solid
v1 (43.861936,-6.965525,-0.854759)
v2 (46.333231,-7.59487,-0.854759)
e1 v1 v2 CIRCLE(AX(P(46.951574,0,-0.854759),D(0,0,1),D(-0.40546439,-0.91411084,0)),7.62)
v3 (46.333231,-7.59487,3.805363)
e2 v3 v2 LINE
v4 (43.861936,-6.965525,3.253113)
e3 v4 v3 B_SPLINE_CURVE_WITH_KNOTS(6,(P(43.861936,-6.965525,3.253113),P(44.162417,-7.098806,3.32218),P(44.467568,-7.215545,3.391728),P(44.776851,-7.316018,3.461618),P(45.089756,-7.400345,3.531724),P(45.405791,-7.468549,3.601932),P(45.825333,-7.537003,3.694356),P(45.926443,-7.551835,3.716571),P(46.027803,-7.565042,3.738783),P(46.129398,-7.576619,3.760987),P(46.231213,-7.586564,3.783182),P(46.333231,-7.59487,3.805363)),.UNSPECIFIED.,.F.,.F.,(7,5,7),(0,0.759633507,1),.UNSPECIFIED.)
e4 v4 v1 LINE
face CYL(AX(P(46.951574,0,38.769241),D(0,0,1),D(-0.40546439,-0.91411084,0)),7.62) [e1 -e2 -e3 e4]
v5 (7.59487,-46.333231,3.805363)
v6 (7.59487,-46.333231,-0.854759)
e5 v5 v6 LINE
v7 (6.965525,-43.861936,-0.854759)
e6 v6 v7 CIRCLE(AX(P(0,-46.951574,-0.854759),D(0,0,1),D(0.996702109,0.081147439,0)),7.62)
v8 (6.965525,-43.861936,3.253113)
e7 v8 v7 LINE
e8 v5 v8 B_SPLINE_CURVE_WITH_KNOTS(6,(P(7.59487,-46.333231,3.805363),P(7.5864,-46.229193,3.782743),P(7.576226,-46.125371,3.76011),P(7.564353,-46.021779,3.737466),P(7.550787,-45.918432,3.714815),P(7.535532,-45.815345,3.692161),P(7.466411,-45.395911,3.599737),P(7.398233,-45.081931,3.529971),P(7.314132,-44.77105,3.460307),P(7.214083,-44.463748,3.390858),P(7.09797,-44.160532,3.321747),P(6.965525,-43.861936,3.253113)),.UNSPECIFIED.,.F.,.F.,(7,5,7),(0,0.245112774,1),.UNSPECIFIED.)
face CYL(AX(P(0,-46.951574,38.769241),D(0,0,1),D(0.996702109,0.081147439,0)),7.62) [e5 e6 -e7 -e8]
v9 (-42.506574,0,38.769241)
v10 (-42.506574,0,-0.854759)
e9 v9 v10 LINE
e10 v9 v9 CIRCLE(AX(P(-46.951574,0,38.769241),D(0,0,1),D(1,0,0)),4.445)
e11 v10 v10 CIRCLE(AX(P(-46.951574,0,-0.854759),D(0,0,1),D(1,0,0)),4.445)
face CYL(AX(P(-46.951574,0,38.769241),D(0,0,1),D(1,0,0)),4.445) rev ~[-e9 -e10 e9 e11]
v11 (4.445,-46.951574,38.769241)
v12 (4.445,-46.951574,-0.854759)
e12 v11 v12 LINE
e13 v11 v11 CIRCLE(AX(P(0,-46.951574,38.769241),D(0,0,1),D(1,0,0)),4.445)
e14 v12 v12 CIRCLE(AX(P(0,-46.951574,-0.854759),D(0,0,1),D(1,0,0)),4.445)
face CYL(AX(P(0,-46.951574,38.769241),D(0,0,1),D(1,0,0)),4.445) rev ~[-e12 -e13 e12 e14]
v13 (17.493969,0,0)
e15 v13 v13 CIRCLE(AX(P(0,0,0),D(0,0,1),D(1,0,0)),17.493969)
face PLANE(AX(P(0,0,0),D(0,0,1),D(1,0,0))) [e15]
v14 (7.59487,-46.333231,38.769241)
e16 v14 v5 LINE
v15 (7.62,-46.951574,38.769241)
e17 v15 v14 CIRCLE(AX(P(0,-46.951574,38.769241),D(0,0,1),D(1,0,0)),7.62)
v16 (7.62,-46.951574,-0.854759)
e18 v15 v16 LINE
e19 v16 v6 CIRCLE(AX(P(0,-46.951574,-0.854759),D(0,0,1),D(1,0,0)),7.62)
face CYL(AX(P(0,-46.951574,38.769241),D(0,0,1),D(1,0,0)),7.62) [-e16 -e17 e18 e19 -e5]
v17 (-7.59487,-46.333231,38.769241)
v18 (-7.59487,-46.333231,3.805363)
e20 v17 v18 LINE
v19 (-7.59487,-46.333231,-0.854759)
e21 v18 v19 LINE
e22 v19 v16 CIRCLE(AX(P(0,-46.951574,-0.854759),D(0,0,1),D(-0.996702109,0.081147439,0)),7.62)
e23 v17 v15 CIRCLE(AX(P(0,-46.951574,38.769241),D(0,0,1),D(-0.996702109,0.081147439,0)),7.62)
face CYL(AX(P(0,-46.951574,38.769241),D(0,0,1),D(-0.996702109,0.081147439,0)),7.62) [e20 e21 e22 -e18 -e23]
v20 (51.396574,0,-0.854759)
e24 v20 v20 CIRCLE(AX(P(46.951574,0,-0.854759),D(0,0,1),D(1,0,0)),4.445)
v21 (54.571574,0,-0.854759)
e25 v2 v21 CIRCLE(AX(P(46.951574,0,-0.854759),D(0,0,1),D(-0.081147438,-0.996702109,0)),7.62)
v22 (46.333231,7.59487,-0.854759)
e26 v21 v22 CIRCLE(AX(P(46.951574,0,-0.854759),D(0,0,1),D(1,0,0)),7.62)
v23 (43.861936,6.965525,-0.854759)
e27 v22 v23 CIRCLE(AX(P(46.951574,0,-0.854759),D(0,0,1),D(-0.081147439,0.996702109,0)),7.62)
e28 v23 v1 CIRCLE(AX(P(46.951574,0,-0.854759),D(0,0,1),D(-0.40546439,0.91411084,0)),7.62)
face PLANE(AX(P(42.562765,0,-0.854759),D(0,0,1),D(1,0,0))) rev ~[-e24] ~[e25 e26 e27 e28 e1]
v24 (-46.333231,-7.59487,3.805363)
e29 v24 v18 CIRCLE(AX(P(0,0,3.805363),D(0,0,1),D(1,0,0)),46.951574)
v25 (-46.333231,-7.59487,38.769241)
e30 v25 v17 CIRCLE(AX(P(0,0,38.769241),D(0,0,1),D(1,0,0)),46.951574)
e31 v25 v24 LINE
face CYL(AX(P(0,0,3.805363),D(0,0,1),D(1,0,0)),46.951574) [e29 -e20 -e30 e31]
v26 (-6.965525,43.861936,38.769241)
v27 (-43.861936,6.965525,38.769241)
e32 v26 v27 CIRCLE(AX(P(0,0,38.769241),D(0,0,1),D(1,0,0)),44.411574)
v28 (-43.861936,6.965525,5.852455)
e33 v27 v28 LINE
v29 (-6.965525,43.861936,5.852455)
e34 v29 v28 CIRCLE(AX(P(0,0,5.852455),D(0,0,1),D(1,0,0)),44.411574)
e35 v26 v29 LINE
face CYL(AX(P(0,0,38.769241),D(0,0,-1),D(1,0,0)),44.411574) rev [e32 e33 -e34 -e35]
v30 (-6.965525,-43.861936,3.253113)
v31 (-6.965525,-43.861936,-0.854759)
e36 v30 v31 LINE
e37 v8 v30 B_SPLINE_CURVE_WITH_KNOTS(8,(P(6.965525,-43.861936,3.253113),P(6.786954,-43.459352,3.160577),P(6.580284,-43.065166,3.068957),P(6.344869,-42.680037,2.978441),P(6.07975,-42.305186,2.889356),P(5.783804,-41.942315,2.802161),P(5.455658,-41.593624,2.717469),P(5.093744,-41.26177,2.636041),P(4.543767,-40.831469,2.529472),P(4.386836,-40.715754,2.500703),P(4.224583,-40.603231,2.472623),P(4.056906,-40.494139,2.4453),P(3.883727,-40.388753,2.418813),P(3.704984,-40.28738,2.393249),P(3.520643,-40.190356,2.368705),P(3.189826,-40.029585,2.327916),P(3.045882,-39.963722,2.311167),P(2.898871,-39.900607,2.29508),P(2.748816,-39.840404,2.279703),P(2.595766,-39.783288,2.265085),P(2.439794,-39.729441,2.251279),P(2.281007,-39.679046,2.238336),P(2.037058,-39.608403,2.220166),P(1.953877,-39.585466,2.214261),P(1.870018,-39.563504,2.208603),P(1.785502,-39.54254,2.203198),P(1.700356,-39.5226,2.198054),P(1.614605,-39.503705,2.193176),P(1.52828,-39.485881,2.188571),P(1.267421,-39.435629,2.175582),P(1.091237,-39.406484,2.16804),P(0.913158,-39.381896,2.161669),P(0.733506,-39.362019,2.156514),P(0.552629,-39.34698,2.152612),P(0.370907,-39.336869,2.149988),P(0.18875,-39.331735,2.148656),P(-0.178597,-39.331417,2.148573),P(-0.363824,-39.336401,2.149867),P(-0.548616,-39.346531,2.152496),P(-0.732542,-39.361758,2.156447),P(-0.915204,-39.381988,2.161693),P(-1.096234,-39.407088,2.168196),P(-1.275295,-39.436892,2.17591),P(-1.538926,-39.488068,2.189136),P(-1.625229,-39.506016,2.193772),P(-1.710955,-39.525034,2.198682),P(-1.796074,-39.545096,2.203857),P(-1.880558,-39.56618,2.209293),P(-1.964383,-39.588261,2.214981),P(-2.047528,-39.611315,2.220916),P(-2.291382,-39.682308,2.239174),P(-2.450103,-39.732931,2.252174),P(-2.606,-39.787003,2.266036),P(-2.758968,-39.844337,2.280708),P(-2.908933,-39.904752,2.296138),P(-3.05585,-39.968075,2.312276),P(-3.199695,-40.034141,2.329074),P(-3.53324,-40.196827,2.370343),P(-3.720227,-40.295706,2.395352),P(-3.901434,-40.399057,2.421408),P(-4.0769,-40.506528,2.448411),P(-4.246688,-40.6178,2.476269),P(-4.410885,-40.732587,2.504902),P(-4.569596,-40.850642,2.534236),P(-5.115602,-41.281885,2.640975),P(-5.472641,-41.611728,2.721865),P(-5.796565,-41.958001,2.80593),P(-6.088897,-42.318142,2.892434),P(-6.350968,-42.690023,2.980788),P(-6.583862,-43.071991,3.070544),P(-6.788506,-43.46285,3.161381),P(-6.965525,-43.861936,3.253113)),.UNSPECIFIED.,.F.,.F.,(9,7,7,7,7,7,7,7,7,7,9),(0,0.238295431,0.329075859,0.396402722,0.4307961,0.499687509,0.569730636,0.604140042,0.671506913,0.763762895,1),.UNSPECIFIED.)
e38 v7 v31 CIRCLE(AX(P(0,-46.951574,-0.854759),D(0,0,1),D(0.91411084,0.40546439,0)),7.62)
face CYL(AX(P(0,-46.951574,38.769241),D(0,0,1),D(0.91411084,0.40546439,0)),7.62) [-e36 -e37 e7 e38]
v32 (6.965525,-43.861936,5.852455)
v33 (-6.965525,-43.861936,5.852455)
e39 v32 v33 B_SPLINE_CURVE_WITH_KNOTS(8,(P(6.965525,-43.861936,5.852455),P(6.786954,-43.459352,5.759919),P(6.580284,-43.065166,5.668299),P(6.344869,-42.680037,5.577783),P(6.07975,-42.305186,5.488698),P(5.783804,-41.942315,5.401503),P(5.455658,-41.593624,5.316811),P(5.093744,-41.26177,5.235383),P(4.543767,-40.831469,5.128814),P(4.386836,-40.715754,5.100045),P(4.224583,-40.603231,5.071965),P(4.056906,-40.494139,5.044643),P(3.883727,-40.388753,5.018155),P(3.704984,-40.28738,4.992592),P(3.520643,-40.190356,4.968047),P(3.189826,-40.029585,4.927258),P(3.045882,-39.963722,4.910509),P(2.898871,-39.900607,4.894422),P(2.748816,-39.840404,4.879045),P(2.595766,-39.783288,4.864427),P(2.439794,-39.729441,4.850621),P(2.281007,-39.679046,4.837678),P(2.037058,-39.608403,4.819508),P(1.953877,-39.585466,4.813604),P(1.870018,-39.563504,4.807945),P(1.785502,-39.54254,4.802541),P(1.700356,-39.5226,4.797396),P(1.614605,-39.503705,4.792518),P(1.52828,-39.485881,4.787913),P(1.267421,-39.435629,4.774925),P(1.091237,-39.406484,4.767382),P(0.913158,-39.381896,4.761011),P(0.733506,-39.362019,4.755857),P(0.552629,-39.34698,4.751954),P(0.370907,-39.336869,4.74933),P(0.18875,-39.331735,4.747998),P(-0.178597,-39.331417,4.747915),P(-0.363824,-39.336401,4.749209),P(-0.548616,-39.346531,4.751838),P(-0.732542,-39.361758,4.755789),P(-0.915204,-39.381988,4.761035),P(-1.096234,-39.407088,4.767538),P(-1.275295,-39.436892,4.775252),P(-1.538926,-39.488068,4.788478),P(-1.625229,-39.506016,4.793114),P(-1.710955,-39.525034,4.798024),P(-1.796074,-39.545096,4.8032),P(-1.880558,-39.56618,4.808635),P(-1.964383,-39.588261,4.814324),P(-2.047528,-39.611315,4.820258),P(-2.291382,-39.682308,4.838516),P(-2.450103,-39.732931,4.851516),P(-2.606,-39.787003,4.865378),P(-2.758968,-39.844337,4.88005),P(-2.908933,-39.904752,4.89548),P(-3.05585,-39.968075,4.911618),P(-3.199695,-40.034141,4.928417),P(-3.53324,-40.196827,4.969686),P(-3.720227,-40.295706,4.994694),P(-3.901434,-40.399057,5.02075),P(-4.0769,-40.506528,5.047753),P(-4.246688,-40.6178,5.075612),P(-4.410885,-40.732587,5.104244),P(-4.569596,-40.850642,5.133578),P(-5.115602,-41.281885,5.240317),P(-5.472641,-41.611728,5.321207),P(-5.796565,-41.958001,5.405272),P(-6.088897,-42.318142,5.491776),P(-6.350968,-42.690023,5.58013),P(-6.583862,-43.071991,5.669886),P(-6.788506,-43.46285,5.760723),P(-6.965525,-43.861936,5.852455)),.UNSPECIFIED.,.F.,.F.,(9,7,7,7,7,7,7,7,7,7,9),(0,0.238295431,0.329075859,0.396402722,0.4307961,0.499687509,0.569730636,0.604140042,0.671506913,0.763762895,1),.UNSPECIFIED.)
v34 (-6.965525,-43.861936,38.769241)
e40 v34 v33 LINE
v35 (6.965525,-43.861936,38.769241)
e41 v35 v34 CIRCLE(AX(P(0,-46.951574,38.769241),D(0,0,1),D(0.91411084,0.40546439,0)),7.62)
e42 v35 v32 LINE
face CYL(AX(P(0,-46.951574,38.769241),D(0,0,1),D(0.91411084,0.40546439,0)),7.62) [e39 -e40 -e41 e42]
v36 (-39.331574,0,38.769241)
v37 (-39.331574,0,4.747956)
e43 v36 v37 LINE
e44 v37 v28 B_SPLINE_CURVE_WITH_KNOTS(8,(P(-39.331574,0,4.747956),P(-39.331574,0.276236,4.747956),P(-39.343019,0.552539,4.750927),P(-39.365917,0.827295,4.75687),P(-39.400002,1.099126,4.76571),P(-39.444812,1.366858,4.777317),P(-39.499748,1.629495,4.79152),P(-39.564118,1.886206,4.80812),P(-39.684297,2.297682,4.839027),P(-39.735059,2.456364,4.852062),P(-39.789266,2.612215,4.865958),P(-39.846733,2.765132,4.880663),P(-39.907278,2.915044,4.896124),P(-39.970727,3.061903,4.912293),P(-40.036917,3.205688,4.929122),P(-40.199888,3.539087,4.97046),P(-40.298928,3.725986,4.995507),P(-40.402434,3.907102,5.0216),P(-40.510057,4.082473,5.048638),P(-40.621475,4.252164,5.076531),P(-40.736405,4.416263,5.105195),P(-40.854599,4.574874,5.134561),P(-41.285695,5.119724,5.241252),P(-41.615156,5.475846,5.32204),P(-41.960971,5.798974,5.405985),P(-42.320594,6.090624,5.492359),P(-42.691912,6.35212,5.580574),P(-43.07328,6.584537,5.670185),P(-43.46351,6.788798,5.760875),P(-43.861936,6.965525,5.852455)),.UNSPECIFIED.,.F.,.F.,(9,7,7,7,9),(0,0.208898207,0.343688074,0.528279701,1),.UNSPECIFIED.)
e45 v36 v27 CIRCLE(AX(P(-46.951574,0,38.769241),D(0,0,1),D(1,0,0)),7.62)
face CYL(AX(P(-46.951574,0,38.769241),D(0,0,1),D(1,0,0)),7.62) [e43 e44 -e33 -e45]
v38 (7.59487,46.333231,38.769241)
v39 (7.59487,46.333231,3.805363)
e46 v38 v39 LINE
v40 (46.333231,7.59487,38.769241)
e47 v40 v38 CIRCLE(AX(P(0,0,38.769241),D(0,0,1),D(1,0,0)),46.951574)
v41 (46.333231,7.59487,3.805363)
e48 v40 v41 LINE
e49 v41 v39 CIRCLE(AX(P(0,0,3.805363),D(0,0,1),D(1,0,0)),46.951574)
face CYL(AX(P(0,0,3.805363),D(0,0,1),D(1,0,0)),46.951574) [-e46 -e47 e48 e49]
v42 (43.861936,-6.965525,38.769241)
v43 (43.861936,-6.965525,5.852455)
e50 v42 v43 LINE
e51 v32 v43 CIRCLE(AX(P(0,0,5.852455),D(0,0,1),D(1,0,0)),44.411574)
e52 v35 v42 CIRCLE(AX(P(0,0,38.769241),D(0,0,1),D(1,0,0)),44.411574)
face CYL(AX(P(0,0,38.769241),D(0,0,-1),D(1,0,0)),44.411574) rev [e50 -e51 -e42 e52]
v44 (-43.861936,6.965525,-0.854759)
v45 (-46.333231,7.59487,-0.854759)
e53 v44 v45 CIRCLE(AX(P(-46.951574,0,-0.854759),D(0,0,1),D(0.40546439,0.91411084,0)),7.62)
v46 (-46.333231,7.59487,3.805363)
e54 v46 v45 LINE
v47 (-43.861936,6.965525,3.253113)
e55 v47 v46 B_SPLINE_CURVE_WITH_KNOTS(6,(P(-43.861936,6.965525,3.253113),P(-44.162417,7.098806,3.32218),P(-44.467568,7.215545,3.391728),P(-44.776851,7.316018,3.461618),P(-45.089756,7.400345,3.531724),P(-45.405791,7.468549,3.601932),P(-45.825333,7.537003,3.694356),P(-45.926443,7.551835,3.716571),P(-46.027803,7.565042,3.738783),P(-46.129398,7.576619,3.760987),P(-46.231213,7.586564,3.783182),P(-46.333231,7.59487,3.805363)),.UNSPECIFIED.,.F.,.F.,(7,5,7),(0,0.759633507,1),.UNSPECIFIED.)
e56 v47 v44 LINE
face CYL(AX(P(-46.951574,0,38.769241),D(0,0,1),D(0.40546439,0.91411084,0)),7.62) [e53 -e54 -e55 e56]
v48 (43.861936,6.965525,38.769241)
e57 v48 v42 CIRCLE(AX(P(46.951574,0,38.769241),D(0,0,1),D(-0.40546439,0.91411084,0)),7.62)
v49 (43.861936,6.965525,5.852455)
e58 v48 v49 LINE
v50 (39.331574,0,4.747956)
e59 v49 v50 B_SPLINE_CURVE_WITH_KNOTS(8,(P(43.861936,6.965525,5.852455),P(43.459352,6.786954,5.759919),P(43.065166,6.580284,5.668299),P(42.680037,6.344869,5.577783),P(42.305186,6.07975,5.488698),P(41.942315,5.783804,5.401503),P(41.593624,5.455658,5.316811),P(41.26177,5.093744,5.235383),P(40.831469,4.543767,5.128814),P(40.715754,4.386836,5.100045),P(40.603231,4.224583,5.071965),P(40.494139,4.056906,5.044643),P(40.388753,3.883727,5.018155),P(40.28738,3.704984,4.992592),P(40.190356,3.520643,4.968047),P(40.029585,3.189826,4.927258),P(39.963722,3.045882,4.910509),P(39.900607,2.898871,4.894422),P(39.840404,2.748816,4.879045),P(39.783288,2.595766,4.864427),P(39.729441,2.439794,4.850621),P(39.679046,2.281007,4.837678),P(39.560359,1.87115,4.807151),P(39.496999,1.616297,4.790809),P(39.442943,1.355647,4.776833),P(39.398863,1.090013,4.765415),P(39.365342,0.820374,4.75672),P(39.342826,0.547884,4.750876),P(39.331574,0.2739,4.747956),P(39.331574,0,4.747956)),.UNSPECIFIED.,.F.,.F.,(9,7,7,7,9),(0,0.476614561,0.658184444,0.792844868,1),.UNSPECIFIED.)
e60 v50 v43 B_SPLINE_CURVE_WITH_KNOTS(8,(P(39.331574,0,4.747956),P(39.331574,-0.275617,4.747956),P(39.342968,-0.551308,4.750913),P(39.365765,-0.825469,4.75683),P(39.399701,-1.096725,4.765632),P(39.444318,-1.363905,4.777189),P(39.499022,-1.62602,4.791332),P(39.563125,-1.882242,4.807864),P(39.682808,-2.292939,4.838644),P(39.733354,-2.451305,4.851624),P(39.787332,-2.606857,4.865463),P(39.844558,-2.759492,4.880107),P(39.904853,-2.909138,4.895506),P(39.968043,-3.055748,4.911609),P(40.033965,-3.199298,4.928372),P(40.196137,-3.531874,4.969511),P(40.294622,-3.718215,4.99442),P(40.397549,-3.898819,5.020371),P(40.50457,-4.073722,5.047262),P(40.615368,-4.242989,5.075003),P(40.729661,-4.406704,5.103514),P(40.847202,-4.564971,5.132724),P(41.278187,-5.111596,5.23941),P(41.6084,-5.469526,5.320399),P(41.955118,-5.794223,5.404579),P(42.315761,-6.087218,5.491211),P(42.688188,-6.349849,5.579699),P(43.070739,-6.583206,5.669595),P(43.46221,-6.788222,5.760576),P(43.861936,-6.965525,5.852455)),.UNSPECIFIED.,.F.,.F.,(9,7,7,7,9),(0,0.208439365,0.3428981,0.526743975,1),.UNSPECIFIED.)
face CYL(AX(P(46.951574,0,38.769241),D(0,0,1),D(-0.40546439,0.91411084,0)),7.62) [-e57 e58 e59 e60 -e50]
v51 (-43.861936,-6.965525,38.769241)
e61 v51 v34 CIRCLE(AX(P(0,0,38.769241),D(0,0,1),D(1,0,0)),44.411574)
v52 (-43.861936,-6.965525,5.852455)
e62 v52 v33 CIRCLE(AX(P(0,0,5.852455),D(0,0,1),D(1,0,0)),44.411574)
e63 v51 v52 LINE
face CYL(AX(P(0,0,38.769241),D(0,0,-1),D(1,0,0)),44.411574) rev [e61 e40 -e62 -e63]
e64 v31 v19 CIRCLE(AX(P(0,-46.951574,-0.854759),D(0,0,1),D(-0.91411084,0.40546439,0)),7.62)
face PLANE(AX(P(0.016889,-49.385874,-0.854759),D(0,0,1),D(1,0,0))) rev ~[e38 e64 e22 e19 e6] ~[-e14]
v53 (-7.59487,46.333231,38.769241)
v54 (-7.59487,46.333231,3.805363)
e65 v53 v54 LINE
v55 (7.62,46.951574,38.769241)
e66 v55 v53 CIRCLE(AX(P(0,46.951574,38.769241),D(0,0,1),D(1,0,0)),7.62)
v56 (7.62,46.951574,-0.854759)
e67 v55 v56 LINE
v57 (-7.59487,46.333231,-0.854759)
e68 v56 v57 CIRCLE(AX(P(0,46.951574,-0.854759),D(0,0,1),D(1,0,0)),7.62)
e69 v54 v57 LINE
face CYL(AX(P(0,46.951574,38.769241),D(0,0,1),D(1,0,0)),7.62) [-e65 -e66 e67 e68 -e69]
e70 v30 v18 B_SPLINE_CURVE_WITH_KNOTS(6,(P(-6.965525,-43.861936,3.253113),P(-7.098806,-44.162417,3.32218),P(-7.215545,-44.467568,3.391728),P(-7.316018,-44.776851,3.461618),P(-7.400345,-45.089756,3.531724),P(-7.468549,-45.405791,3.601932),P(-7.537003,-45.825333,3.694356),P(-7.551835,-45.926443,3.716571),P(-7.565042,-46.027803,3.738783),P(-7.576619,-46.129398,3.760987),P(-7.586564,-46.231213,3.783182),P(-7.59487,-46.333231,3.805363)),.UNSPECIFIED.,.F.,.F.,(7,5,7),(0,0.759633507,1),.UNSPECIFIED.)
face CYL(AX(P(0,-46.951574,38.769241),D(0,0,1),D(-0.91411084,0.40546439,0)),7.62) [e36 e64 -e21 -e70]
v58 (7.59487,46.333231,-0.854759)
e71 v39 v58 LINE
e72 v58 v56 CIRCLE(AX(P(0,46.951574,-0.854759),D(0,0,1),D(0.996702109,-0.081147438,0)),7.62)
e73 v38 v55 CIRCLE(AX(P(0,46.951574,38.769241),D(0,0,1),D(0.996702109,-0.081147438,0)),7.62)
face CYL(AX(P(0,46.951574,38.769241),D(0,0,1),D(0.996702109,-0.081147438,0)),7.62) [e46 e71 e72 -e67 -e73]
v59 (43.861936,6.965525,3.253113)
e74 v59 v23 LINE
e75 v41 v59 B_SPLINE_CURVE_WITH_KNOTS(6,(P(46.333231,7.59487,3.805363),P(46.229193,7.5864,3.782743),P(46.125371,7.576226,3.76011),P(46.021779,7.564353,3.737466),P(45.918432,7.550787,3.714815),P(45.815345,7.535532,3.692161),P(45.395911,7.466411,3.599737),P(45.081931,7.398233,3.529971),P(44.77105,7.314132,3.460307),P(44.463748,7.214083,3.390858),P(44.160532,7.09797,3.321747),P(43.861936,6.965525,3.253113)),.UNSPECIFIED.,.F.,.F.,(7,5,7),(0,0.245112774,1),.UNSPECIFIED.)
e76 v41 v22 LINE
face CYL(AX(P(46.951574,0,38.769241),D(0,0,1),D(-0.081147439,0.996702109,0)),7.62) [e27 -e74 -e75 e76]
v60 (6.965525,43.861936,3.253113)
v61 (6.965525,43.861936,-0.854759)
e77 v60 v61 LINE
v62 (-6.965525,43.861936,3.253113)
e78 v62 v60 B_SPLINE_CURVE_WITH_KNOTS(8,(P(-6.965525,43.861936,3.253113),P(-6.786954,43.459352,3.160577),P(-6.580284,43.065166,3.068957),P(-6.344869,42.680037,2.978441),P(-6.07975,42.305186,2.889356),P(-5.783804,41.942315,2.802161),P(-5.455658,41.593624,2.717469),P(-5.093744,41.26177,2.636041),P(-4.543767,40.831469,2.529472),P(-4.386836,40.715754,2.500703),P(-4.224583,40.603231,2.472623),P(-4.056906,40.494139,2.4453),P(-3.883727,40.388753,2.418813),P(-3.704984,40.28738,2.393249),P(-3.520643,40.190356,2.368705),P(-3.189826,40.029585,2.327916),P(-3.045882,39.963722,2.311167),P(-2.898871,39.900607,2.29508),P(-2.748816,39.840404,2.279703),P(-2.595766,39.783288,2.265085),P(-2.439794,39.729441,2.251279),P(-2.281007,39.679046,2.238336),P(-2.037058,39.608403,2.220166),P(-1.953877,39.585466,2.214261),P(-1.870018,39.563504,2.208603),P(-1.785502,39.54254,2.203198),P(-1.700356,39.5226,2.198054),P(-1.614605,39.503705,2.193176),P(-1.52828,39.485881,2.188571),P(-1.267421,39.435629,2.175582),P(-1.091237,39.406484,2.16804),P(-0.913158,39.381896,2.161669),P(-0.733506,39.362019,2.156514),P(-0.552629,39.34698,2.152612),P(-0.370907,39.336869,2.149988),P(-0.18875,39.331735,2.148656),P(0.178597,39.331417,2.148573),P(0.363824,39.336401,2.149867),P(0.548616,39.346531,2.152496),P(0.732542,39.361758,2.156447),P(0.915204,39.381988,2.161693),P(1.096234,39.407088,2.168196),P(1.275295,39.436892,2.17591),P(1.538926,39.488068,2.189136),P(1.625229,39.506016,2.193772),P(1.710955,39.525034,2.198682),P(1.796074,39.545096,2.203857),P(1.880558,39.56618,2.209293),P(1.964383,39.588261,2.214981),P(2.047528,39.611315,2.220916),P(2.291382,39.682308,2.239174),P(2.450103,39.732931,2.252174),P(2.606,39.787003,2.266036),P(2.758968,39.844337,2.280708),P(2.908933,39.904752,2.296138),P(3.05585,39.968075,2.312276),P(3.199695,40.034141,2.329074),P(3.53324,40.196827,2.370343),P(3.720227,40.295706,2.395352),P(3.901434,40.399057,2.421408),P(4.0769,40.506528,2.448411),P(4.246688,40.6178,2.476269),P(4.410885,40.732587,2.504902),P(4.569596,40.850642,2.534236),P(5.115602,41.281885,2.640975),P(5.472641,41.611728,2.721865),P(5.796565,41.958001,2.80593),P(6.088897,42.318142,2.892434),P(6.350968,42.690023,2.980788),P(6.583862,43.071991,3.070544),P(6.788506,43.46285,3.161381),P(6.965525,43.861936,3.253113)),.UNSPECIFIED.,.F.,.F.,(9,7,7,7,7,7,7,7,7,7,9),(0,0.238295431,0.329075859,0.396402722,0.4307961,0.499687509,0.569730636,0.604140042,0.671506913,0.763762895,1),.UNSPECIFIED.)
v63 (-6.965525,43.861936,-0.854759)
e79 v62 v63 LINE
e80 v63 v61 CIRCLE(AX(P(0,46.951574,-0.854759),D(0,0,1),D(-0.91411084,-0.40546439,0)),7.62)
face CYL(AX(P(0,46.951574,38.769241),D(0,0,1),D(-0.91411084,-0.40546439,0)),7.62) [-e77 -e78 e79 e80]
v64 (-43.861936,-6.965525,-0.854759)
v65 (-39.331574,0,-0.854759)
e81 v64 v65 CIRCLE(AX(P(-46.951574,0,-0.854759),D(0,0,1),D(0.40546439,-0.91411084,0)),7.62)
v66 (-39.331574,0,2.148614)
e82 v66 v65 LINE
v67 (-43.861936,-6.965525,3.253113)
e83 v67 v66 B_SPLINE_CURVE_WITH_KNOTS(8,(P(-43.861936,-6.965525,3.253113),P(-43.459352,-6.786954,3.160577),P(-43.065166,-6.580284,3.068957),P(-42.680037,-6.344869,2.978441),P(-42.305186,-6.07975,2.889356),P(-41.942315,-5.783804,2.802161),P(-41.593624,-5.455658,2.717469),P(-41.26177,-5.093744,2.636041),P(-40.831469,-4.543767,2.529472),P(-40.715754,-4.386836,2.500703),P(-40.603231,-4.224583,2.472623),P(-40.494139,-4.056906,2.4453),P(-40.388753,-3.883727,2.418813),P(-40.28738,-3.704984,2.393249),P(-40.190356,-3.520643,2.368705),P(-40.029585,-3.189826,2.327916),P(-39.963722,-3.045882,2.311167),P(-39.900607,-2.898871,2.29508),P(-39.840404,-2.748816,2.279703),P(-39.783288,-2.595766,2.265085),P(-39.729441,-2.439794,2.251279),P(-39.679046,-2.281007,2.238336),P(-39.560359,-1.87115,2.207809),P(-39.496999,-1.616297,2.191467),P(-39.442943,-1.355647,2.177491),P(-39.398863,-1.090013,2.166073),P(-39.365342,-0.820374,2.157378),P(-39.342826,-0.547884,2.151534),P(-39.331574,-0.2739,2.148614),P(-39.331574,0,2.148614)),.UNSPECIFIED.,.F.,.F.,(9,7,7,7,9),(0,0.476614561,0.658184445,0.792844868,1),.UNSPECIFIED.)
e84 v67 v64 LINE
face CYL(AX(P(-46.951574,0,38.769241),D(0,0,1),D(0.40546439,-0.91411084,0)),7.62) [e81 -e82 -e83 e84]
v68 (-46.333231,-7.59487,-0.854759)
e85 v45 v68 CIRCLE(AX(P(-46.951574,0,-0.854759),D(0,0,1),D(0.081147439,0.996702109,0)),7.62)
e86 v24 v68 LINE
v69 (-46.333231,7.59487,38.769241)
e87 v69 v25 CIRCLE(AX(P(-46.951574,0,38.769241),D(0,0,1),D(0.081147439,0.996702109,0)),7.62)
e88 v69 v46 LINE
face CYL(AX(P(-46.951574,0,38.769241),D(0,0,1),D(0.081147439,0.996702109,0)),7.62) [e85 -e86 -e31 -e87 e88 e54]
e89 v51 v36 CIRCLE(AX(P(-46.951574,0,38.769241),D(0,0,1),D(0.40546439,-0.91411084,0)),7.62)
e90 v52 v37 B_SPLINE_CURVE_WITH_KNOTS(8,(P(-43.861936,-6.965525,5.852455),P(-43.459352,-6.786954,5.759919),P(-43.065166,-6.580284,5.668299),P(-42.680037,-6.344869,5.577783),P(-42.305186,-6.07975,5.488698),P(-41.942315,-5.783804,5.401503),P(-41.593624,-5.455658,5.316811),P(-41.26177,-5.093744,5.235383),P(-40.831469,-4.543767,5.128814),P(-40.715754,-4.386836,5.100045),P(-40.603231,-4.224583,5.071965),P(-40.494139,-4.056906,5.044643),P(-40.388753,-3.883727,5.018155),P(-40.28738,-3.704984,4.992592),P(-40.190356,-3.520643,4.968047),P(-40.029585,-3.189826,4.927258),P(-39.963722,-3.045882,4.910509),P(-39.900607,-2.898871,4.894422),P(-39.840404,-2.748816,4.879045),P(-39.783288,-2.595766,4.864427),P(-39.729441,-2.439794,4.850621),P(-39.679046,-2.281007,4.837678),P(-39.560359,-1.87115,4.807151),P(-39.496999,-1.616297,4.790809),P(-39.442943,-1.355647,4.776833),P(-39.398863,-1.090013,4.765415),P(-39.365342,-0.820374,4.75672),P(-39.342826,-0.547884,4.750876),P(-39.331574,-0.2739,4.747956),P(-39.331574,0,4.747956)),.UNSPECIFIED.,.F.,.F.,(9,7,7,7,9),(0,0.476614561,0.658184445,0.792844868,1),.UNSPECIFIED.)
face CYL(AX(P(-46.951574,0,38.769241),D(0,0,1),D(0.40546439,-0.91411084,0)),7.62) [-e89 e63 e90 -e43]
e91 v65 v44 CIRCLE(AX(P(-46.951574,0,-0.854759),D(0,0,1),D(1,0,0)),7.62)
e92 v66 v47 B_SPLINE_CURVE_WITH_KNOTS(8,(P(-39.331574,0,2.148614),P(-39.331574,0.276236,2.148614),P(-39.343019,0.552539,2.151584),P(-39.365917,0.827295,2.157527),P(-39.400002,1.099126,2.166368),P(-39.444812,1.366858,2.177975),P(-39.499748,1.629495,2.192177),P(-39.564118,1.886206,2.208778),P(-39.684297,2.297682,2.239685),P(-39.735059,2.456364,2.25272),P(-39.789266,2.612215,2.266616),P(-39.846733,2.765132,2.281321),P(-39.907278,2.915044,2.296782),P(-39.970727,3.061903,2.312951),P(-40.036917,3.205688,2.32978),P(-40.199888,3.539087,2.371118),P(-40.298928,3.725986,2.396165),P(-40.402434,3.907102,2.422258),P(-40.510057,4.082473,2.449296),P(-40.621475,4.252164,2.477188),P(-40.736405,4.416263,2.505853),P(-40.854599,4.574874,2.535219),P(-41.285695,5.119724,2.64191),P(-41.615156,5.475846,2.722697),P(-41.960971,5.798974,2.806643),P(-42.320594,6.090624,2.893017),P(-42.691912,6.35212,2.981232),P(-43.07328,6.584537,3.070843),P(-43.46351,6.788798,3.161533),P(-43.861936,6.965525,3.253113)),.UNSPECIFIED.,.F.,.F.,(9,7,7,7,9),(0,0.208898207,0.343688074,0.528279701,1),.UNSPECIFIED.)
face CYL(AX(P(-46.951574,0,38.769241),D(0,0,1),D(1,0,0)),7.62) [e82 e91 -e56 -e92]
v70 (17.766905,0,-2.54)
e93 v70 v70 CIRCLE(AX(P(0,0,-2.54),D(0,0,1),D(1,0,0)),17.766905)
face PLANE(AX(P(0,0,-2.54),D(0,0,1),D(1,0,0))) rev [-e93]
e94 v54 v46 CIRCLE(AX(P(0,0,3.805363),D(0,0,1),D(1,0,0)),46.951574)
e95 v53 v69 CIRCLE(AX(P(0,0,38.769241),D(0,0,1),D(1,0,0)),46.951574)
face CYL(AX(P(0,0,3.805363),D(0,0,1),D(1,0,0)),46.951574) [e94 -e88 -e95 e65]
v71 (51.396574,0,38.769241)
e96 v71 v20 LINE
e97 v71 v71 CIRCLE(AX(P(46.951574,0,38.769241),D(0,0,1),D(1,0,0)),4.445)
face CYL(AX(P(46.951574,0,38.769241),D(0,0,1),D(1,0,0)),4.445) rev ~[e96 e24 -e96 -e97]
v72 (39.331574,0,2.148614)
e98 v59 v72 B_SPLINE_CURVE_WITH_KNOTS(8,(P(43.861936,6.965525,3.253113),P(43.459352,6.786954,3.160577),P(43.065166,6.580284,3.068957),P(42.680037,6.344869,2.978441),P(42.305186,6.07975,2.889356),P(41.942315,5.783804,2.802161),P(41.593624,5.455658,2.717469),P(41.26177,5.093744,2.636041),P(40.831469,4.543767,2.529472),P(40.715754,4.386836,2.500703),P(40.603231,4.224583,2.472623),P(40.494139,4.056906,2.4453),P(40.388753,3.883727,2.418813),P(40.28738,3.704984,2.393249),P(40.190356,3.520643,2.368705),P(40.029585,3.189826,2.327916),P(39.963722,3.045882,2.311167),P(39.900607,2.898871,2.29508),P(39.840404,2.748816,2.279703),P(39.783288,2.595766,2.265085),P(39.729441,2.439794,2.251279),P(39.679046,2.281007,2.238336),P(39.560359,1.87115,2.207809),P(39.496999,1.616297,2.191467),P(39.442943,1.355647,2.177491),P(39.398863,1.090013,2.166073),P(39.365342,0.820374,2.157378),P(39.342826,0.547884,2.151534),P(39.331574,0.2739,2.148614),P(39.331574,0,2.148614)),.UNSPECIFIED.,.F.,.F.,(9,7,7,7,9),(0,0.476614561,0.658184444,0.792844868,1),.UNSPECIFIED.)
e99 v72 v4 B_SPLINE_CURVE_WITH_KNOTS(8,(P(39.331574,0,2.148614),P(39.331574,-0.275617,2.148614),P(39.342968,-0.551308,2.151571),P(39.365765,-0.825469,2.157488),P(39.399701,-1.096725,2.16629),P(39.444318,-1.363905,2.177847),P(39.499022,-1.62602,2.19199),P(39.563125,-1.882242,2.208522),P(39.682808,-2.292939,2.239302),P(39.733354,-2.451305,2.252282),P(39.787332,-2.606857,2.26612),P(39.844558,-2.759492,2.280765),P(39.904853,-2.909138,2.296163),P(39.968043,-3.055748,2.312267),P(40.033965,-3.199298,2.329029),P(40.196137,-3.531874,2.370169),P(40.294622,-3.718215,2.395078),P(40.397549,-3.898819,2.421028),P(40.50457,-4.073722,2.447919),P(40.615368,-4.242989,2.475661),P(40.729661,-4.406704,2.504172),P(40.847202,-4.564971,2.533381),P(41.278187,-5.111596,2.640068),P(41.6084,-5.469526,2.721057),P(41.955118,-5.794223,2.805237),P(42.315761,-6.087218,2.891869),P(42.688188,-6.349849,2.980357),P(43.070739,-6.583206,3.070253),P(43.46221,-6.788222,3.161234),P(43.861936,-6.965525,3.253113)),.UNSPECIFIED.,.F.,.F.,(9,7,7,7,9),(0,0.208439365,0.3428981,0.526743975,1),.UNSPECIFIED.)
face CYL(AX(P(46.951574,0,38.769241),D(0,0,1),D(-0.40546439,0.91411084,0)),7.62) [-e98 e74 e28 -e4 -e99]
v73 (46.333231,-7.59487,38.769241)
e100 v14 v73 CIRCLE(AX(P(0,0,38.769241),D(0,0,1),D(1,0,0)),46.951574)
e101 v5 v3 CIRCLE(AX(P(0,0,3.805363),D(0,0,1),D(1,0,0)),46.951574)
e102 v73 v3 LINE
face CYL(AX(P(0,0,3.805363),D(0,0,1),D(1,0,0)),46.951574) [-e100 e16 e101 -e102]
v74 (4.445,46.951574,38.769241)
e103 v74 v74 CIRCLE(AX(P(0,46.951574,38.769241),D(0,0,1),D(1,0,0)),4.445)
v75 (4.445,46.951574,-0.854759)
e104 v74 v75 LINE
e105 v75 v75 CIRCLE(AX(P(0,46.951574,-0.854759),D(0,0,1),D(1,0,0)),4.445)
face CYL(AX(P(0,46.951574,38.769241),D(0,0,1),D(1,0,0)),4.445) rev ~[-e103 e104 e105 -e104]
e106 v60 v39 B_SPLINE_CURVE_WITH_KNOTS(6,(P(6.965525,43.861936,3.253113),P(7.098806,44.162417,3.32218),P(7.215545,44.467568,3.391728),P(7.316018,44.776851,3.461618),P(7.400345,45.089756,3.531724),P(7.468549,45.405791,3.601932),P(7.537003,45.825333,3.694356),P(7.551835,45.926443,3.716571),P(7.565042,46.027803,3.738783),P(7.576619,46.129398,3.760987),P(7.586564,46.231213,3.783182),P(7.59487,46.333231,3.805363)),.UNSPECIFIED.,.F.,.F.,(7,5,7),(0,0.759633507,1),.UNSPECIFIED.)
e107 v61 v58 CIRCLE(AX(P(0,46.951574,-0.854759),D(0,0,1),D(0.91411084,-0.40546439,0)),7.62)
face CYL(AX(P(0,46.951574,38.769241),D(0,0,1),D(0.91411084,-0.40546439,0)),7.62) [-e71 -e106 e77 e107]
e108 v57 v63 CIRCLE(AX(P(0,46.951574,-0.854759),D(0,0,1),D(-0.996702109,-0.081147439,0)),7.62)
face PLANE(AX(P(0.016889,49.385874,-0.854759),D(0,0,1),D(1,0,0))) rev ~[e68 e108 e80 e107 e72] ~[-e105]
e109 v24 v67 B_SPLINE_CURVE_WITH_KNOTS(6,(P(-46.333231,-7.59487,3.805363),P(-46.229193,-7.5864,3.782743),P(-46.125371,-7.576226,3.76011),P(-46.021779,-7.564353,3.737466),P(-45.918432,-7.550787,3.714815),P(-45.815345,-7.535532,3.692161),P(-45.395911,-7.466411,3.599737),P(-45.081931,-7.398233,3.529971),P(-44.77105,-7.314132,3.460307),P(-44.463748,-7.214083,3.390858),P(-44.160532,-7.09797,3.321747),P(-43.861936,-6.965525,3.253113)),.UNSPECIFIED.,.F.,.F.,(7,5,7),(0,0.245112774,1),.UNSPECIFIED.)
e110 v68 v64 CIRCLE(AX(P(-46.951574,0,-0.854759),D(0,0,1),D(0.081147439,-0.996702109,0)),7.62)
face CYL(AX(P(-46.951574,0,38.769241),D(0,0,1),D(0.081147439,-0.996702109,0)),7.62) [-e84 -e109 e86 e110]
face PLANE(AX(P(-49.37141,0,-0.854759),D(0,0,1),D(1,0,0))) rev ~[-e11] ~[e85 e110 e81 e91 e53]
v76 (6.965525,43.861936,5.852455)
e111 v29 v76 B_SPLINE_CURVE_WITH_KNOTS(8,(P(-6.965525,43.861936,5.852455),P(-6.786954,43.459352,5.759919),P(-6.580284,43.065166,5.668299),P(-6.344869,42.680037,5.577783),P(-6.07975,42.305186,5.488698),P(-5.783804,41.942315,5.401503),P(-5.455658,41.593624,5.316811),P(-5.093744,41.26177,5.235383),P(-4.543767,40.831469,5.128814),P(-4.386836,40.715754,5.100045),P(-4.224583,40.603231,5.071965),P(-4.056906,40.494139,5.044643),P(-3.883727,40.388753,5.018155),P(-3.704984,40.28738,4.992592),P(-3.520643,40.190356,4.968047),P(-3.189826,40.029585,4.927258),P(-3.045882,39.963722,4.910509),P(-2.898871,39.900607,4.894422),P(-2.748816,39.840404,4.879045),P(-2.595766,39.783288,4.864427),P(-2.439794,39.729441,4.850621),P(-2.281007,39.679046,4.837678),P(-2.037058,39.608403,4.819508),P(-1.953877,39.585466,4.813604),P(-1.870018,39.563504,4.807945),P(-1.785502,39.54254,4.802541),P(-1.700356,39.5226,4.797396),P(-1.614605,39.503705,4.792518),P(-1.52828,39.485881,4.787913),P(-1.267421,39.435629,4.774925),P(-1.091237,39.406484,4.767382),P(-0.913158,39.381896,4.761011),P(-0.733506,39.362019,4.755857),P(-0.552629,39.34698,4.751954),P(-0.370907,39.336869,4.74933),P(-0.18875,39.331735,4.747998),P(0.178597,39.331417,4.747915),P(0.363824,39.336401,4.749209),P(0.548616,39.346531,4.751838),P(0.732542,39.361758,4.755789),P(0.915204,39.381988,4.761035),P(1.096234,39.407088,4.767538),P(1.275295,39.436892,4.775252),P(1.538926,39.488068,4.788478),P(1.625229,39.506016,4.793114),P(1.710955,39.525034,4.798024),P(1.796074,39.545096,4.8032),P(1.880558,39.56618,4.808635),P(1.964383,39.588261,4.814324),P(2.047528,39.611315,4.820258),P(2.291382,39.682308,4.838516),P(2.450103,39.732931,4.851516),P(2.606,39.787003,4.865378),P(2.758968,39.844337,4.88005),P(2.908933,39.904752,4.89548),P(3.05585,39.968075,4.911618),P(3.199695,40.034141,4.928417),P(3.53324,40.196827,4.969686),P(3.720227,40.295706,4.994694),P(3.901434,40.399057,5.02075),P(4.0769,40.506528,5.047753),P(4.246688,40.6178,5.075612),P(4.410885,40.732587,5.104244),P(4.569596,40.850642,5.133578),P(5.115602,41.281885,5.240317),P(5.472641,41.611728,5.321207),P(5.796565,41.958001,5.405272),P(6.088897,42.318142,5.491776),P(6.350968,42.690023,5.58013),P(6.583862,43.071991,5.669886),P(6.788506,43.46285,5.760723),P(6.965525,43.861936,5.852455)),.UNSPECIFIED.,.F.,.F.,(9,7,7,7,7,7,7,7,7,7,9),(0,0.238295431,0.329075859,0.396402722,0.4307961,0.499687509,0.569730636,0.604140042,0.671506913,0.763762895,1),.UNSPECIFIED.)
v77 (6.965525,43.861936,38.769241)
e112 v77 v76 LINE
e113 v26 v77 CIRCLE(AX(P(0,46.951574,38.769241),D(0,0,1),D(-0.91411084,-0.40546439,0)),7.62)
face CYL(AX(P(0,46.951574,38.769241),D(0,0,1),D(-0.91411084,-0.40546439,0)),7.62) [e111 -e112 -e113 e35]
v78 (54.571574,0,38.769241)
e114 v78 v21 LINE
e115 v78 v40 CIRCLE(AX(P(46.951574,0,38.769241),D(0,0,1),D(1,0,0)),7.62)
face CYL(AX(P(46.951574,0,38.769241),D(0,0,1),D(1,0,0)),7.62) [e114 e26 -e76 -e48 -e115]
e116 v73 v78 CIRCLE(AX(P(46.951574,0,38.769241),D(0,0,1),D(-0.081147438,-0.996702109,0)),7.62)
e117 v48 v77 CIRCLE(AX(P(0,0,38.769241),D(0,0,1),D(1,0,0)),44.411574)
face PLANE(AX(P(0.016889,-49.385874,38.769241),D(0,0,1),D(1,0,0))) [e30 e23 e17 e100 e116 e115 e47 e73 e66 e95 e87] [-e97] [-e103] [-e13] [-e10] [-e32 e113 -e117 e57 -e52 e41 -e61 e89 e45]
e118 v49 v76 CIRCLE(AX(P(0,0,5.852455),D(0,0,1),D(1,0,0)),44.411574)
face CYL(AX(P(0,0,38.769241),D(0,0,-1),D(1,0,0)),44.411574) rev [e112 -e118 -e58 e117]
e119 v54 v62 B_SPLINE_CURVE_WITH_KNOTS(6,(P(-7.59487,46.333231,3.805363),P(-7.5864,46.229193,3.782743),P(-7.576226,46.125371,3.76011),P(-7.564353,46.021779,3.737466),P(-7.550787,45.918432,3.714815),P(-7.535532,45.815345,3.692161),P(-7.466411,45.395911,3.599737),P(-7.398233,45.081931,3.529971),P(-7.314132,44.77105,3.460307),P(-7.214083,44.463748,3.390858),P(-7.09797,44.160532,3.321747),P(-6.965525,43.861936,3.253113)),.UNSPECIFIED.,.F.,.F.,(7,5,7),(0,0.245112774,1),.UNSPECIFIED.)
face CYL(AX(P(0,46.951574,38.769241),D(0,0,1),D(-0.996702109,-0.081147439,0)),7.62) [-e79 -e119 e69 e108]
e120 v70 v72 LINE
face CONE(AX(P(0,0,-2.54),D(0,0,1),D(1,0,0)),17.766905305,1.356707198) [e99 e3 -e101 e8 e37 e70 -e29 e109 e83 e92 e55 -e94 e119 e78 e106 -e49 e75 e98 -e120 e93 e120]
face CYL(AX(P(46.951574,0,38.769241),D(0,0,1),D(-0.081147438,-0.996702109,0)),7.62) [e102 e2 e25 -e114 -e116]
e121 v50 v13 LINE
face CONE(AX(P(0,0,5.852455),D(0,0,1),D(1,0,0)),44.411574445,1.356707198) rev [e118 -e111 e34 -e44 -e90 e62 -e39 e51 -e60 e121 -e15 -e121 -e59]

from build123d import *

# Parameters (mm, degrees)
F3_DEPTH = 39.624
F4_R     = 4.445
F5_DEPTH = 41.3102415224


with BuildPart() as f1:
    # F0 (on Front) → F1 (revolve)
    with BuildSketch(Plane.XZ):
        Polygon((17.4939688295, 0), (0, 0), (0, -2.54), (17.7669053052, -2.54), (46.9515744454, 3.8053627059), (46.9515744454, 38.7692414224), (44.4115744454, 38.7692414224), (44.4115744454, 5.8524552733), align=None)
    revolve(axis=Axis((0, 0, 19.3846207112), (0, 0, 1)))

    # F2 (on face) → F3 (join)
    with BuildSketch(Plane.XY.offset(38.7692414224)):
        with BuildLine():
            ThreePointArc((-7.5948700673, -46.333230964), (-0.3094269601, -54.5652893703), (7.62, -46.9515744454))
            ThreePointArc((7.62, -46.9515744454), (7.6137149248, -46.6421474854), (7.5948700673, -46.333230964))
            ThreePointArc((7.5948700673, -46.333230964), (0, -46.9515744454), (-7.5948700673, -46.333230964))
        make_face()
        with BuildLine():
            ThreePointArc((7.62, 46.9515744454), (-0.3094269601, 54.5652893703), (-7.5948700673, 46.333230964))
            ThreePointArc((-7.5948700673, 46.333230964), (0, 46.9515744454), (7.5948700673, 46.333230964))
            ThreePointArc((7.5948700673, 46.333230964), (7.6137149248, 46.6421474854), (7.62, 46.9515744454))
        make_face()
        with BuildLine():
            ThreePointArc((-46.333230964, 7.5948700673), (-54.5715744454, 0), (-46.333230964, -7.5948700673))
            ThreePointArc((-46.333230964, -7.5948700673), (-46.9515744454, 0), (-46.333230964, 7.5948700673))
        make_face()
        with BuildLine():
            ThreePointArc((-6.9655246042, -43.8619357953), (0, -44.4115744454), (6.9655246042, -43.8619357953))
            ThreePointArc((6.9655246042, -43.8619357953), (0, -39.3315744454), (-6.9655246042, -43.8619357953))
        make_face()
        with BuildLine():
            ThreePointArc((43.8619357953, 6.9655246042), (39.3315744454, 0), (43.8619357953, -6.9655246042))
            ThreePointArc((43.8619357953, -6.9655246042), (44.2739515495, -3.4935882577), (44.4115744454, 0))
            ThreePointArc((44.4115744454, 0), (44.2739515495, 3.4935882577), (43.8619357953, 6.9655246042))
        make_face()
        with BuildLine():
            ThreePointArc((-6.9655246042, 43.8619357953), (0, 39.3315744454), (6.9655246042, 43.8619357953))
            ThreePointArc((6.9655246042, 43.8619357953), (0, 44.4115744454), (-6.9655246042, 43.8619357953))
        make_face()
        with BuildLine():
            ThreePointArc((-43.8619357953, 6.9655246042), (-44.4115744454, 0), (-43.8619357953, -6.9655246042))
            ThreePointArc((-43.8619357953, -6.9655246042), (-40.5637952338, -4.1545970614), (-39.3315744454, 0))
            ThreePointArc((-39.3315744454, 0), (-40.5637952338, 4.1545970614), (-43.8619357953, 6.9655246042))
        make_face()
        with BuildLine():
            ThreePointArc((-7.5948700673, -46.333230964), (0, -46.9515744454), (7.5948700673, -46.333230964))
            ThreePointArc((7.5948700673, -46.333230964), (7.3843143351, -45.0710687156), (6.9655246042, -43.8619357953))
            ThreePointArc((6.9655246042, -43.8619357953), (0, -44.4115744454), (-6.9655246042, -43.8619357953))
            ThreePointArc((-6.9655246042, -43.8619357953), (-7.3843143351, -45.0710687156), (-7.5948700673, -46.333230964))
        make_face()
        with BuildLine():
            ThreePointArc((43.8619357953, -6.9655246042), (45.0710687156, -7.3843143351), (46.333230964, -7.5948700673))
            ThreePointArc((46.333230964, -7.5948700673), (46.7967332504, -3.81), (46.9515744454, 0))
            ThreePointArc((46.9515744454, 0), (46.7967332504, 3.81), (46.333230964, 7.5948700673))
            ThreePointArc((46.333230964, 7.5948700673), (45.0710687156, 7.3843143351), (43.8619357953, 6.9655246042))
            ThreePointArc((43.8619357953, 6.9655246042), (44.2739515495, 3.4935882577), (44.4115744454, 0))
            ThreePointArc((44.4115744454, 0), (44.2739515495, -3.4935882577), (43.8619357953, -6.9655246042))
        make_face()
        with BuildLine():
            ThreePointArc((7.5948700673, 46.333230964), (0, 46.9515744454), (-7.5948700673, 46.333230964))
            ThreePointArc((-7.5948700673, 46.333230964), (-7.3843143351, 45.0710687156), (-6.9655246042, 43.8619357953))
            ThreePointArc((-6.9655246042, 43.8619357953), (0, 44.4115744454), (6.9655246042, 43.8619357953))
            ThreePointArc((6.9655246042, 43.8619357953), (7.3843143351, 45.0710687156), (7.5948700673, 46.333230964))
        make_face()
        with BuildLine():
            ThreePointArc((-46.333230964, 7.5948700673), (-46.9515744454, 0), (-46.333230964, -7.5948700673))
            ThreePointArc((-46.333230964, -7.5948700673), (-45.0710687156, -7.3843143351), (-43.8619357953, -6.9655246042))
            ThreePointArc((-43.8619357953, -6.9655246042), (-44.4115744454, 0), (-43.8619357953, 6.9655246042))
            ThreePointArc((-43.8619357953, 6.9655246042), (-45.0710687156, 7.3843143351), (-46.333230964, 7.5948700673))
        make_face()
        with BuildLine():
            ThreePointArc((46.9515744454, 0), (46.7967332504, -3.81), (46.333230964, -7.5948700673))
            ThreePointArc((46.333230964, -7.5948700673), (52.116485997, -5.6025073551), (54.5715744454, 0))
            ThreePointArc((54.5715744454, 0), (52.116485997, 5.6025073551), (46.333230964, 7.5948700673))
            ThreePointArc((46.333230964, 7.5948700673), (46.7967332504, 3.81), (46.9515744454, 0))
        make_face()
    extrude(amount=-F3_DEPTH)

    # F4 (on face) → F5 (cut, through all)
    with BuildSketch(Plane.XY.offset(38.7692414224)):
        with Locations((-46.9515744454, 0)):
            Circle(F4_R)
        with Locations((0, 46.9515744454)):
            Circle(F4_R)
        with Locations((46.9515744454, 0)):
            Circle(F4_R)
        with Locations((0, -46.9515744454)):
            Circle(F4_R)
    extrude(amount=-F5_DEPTH, mode=Mode.SUBTRACT)


solid = f1.part
